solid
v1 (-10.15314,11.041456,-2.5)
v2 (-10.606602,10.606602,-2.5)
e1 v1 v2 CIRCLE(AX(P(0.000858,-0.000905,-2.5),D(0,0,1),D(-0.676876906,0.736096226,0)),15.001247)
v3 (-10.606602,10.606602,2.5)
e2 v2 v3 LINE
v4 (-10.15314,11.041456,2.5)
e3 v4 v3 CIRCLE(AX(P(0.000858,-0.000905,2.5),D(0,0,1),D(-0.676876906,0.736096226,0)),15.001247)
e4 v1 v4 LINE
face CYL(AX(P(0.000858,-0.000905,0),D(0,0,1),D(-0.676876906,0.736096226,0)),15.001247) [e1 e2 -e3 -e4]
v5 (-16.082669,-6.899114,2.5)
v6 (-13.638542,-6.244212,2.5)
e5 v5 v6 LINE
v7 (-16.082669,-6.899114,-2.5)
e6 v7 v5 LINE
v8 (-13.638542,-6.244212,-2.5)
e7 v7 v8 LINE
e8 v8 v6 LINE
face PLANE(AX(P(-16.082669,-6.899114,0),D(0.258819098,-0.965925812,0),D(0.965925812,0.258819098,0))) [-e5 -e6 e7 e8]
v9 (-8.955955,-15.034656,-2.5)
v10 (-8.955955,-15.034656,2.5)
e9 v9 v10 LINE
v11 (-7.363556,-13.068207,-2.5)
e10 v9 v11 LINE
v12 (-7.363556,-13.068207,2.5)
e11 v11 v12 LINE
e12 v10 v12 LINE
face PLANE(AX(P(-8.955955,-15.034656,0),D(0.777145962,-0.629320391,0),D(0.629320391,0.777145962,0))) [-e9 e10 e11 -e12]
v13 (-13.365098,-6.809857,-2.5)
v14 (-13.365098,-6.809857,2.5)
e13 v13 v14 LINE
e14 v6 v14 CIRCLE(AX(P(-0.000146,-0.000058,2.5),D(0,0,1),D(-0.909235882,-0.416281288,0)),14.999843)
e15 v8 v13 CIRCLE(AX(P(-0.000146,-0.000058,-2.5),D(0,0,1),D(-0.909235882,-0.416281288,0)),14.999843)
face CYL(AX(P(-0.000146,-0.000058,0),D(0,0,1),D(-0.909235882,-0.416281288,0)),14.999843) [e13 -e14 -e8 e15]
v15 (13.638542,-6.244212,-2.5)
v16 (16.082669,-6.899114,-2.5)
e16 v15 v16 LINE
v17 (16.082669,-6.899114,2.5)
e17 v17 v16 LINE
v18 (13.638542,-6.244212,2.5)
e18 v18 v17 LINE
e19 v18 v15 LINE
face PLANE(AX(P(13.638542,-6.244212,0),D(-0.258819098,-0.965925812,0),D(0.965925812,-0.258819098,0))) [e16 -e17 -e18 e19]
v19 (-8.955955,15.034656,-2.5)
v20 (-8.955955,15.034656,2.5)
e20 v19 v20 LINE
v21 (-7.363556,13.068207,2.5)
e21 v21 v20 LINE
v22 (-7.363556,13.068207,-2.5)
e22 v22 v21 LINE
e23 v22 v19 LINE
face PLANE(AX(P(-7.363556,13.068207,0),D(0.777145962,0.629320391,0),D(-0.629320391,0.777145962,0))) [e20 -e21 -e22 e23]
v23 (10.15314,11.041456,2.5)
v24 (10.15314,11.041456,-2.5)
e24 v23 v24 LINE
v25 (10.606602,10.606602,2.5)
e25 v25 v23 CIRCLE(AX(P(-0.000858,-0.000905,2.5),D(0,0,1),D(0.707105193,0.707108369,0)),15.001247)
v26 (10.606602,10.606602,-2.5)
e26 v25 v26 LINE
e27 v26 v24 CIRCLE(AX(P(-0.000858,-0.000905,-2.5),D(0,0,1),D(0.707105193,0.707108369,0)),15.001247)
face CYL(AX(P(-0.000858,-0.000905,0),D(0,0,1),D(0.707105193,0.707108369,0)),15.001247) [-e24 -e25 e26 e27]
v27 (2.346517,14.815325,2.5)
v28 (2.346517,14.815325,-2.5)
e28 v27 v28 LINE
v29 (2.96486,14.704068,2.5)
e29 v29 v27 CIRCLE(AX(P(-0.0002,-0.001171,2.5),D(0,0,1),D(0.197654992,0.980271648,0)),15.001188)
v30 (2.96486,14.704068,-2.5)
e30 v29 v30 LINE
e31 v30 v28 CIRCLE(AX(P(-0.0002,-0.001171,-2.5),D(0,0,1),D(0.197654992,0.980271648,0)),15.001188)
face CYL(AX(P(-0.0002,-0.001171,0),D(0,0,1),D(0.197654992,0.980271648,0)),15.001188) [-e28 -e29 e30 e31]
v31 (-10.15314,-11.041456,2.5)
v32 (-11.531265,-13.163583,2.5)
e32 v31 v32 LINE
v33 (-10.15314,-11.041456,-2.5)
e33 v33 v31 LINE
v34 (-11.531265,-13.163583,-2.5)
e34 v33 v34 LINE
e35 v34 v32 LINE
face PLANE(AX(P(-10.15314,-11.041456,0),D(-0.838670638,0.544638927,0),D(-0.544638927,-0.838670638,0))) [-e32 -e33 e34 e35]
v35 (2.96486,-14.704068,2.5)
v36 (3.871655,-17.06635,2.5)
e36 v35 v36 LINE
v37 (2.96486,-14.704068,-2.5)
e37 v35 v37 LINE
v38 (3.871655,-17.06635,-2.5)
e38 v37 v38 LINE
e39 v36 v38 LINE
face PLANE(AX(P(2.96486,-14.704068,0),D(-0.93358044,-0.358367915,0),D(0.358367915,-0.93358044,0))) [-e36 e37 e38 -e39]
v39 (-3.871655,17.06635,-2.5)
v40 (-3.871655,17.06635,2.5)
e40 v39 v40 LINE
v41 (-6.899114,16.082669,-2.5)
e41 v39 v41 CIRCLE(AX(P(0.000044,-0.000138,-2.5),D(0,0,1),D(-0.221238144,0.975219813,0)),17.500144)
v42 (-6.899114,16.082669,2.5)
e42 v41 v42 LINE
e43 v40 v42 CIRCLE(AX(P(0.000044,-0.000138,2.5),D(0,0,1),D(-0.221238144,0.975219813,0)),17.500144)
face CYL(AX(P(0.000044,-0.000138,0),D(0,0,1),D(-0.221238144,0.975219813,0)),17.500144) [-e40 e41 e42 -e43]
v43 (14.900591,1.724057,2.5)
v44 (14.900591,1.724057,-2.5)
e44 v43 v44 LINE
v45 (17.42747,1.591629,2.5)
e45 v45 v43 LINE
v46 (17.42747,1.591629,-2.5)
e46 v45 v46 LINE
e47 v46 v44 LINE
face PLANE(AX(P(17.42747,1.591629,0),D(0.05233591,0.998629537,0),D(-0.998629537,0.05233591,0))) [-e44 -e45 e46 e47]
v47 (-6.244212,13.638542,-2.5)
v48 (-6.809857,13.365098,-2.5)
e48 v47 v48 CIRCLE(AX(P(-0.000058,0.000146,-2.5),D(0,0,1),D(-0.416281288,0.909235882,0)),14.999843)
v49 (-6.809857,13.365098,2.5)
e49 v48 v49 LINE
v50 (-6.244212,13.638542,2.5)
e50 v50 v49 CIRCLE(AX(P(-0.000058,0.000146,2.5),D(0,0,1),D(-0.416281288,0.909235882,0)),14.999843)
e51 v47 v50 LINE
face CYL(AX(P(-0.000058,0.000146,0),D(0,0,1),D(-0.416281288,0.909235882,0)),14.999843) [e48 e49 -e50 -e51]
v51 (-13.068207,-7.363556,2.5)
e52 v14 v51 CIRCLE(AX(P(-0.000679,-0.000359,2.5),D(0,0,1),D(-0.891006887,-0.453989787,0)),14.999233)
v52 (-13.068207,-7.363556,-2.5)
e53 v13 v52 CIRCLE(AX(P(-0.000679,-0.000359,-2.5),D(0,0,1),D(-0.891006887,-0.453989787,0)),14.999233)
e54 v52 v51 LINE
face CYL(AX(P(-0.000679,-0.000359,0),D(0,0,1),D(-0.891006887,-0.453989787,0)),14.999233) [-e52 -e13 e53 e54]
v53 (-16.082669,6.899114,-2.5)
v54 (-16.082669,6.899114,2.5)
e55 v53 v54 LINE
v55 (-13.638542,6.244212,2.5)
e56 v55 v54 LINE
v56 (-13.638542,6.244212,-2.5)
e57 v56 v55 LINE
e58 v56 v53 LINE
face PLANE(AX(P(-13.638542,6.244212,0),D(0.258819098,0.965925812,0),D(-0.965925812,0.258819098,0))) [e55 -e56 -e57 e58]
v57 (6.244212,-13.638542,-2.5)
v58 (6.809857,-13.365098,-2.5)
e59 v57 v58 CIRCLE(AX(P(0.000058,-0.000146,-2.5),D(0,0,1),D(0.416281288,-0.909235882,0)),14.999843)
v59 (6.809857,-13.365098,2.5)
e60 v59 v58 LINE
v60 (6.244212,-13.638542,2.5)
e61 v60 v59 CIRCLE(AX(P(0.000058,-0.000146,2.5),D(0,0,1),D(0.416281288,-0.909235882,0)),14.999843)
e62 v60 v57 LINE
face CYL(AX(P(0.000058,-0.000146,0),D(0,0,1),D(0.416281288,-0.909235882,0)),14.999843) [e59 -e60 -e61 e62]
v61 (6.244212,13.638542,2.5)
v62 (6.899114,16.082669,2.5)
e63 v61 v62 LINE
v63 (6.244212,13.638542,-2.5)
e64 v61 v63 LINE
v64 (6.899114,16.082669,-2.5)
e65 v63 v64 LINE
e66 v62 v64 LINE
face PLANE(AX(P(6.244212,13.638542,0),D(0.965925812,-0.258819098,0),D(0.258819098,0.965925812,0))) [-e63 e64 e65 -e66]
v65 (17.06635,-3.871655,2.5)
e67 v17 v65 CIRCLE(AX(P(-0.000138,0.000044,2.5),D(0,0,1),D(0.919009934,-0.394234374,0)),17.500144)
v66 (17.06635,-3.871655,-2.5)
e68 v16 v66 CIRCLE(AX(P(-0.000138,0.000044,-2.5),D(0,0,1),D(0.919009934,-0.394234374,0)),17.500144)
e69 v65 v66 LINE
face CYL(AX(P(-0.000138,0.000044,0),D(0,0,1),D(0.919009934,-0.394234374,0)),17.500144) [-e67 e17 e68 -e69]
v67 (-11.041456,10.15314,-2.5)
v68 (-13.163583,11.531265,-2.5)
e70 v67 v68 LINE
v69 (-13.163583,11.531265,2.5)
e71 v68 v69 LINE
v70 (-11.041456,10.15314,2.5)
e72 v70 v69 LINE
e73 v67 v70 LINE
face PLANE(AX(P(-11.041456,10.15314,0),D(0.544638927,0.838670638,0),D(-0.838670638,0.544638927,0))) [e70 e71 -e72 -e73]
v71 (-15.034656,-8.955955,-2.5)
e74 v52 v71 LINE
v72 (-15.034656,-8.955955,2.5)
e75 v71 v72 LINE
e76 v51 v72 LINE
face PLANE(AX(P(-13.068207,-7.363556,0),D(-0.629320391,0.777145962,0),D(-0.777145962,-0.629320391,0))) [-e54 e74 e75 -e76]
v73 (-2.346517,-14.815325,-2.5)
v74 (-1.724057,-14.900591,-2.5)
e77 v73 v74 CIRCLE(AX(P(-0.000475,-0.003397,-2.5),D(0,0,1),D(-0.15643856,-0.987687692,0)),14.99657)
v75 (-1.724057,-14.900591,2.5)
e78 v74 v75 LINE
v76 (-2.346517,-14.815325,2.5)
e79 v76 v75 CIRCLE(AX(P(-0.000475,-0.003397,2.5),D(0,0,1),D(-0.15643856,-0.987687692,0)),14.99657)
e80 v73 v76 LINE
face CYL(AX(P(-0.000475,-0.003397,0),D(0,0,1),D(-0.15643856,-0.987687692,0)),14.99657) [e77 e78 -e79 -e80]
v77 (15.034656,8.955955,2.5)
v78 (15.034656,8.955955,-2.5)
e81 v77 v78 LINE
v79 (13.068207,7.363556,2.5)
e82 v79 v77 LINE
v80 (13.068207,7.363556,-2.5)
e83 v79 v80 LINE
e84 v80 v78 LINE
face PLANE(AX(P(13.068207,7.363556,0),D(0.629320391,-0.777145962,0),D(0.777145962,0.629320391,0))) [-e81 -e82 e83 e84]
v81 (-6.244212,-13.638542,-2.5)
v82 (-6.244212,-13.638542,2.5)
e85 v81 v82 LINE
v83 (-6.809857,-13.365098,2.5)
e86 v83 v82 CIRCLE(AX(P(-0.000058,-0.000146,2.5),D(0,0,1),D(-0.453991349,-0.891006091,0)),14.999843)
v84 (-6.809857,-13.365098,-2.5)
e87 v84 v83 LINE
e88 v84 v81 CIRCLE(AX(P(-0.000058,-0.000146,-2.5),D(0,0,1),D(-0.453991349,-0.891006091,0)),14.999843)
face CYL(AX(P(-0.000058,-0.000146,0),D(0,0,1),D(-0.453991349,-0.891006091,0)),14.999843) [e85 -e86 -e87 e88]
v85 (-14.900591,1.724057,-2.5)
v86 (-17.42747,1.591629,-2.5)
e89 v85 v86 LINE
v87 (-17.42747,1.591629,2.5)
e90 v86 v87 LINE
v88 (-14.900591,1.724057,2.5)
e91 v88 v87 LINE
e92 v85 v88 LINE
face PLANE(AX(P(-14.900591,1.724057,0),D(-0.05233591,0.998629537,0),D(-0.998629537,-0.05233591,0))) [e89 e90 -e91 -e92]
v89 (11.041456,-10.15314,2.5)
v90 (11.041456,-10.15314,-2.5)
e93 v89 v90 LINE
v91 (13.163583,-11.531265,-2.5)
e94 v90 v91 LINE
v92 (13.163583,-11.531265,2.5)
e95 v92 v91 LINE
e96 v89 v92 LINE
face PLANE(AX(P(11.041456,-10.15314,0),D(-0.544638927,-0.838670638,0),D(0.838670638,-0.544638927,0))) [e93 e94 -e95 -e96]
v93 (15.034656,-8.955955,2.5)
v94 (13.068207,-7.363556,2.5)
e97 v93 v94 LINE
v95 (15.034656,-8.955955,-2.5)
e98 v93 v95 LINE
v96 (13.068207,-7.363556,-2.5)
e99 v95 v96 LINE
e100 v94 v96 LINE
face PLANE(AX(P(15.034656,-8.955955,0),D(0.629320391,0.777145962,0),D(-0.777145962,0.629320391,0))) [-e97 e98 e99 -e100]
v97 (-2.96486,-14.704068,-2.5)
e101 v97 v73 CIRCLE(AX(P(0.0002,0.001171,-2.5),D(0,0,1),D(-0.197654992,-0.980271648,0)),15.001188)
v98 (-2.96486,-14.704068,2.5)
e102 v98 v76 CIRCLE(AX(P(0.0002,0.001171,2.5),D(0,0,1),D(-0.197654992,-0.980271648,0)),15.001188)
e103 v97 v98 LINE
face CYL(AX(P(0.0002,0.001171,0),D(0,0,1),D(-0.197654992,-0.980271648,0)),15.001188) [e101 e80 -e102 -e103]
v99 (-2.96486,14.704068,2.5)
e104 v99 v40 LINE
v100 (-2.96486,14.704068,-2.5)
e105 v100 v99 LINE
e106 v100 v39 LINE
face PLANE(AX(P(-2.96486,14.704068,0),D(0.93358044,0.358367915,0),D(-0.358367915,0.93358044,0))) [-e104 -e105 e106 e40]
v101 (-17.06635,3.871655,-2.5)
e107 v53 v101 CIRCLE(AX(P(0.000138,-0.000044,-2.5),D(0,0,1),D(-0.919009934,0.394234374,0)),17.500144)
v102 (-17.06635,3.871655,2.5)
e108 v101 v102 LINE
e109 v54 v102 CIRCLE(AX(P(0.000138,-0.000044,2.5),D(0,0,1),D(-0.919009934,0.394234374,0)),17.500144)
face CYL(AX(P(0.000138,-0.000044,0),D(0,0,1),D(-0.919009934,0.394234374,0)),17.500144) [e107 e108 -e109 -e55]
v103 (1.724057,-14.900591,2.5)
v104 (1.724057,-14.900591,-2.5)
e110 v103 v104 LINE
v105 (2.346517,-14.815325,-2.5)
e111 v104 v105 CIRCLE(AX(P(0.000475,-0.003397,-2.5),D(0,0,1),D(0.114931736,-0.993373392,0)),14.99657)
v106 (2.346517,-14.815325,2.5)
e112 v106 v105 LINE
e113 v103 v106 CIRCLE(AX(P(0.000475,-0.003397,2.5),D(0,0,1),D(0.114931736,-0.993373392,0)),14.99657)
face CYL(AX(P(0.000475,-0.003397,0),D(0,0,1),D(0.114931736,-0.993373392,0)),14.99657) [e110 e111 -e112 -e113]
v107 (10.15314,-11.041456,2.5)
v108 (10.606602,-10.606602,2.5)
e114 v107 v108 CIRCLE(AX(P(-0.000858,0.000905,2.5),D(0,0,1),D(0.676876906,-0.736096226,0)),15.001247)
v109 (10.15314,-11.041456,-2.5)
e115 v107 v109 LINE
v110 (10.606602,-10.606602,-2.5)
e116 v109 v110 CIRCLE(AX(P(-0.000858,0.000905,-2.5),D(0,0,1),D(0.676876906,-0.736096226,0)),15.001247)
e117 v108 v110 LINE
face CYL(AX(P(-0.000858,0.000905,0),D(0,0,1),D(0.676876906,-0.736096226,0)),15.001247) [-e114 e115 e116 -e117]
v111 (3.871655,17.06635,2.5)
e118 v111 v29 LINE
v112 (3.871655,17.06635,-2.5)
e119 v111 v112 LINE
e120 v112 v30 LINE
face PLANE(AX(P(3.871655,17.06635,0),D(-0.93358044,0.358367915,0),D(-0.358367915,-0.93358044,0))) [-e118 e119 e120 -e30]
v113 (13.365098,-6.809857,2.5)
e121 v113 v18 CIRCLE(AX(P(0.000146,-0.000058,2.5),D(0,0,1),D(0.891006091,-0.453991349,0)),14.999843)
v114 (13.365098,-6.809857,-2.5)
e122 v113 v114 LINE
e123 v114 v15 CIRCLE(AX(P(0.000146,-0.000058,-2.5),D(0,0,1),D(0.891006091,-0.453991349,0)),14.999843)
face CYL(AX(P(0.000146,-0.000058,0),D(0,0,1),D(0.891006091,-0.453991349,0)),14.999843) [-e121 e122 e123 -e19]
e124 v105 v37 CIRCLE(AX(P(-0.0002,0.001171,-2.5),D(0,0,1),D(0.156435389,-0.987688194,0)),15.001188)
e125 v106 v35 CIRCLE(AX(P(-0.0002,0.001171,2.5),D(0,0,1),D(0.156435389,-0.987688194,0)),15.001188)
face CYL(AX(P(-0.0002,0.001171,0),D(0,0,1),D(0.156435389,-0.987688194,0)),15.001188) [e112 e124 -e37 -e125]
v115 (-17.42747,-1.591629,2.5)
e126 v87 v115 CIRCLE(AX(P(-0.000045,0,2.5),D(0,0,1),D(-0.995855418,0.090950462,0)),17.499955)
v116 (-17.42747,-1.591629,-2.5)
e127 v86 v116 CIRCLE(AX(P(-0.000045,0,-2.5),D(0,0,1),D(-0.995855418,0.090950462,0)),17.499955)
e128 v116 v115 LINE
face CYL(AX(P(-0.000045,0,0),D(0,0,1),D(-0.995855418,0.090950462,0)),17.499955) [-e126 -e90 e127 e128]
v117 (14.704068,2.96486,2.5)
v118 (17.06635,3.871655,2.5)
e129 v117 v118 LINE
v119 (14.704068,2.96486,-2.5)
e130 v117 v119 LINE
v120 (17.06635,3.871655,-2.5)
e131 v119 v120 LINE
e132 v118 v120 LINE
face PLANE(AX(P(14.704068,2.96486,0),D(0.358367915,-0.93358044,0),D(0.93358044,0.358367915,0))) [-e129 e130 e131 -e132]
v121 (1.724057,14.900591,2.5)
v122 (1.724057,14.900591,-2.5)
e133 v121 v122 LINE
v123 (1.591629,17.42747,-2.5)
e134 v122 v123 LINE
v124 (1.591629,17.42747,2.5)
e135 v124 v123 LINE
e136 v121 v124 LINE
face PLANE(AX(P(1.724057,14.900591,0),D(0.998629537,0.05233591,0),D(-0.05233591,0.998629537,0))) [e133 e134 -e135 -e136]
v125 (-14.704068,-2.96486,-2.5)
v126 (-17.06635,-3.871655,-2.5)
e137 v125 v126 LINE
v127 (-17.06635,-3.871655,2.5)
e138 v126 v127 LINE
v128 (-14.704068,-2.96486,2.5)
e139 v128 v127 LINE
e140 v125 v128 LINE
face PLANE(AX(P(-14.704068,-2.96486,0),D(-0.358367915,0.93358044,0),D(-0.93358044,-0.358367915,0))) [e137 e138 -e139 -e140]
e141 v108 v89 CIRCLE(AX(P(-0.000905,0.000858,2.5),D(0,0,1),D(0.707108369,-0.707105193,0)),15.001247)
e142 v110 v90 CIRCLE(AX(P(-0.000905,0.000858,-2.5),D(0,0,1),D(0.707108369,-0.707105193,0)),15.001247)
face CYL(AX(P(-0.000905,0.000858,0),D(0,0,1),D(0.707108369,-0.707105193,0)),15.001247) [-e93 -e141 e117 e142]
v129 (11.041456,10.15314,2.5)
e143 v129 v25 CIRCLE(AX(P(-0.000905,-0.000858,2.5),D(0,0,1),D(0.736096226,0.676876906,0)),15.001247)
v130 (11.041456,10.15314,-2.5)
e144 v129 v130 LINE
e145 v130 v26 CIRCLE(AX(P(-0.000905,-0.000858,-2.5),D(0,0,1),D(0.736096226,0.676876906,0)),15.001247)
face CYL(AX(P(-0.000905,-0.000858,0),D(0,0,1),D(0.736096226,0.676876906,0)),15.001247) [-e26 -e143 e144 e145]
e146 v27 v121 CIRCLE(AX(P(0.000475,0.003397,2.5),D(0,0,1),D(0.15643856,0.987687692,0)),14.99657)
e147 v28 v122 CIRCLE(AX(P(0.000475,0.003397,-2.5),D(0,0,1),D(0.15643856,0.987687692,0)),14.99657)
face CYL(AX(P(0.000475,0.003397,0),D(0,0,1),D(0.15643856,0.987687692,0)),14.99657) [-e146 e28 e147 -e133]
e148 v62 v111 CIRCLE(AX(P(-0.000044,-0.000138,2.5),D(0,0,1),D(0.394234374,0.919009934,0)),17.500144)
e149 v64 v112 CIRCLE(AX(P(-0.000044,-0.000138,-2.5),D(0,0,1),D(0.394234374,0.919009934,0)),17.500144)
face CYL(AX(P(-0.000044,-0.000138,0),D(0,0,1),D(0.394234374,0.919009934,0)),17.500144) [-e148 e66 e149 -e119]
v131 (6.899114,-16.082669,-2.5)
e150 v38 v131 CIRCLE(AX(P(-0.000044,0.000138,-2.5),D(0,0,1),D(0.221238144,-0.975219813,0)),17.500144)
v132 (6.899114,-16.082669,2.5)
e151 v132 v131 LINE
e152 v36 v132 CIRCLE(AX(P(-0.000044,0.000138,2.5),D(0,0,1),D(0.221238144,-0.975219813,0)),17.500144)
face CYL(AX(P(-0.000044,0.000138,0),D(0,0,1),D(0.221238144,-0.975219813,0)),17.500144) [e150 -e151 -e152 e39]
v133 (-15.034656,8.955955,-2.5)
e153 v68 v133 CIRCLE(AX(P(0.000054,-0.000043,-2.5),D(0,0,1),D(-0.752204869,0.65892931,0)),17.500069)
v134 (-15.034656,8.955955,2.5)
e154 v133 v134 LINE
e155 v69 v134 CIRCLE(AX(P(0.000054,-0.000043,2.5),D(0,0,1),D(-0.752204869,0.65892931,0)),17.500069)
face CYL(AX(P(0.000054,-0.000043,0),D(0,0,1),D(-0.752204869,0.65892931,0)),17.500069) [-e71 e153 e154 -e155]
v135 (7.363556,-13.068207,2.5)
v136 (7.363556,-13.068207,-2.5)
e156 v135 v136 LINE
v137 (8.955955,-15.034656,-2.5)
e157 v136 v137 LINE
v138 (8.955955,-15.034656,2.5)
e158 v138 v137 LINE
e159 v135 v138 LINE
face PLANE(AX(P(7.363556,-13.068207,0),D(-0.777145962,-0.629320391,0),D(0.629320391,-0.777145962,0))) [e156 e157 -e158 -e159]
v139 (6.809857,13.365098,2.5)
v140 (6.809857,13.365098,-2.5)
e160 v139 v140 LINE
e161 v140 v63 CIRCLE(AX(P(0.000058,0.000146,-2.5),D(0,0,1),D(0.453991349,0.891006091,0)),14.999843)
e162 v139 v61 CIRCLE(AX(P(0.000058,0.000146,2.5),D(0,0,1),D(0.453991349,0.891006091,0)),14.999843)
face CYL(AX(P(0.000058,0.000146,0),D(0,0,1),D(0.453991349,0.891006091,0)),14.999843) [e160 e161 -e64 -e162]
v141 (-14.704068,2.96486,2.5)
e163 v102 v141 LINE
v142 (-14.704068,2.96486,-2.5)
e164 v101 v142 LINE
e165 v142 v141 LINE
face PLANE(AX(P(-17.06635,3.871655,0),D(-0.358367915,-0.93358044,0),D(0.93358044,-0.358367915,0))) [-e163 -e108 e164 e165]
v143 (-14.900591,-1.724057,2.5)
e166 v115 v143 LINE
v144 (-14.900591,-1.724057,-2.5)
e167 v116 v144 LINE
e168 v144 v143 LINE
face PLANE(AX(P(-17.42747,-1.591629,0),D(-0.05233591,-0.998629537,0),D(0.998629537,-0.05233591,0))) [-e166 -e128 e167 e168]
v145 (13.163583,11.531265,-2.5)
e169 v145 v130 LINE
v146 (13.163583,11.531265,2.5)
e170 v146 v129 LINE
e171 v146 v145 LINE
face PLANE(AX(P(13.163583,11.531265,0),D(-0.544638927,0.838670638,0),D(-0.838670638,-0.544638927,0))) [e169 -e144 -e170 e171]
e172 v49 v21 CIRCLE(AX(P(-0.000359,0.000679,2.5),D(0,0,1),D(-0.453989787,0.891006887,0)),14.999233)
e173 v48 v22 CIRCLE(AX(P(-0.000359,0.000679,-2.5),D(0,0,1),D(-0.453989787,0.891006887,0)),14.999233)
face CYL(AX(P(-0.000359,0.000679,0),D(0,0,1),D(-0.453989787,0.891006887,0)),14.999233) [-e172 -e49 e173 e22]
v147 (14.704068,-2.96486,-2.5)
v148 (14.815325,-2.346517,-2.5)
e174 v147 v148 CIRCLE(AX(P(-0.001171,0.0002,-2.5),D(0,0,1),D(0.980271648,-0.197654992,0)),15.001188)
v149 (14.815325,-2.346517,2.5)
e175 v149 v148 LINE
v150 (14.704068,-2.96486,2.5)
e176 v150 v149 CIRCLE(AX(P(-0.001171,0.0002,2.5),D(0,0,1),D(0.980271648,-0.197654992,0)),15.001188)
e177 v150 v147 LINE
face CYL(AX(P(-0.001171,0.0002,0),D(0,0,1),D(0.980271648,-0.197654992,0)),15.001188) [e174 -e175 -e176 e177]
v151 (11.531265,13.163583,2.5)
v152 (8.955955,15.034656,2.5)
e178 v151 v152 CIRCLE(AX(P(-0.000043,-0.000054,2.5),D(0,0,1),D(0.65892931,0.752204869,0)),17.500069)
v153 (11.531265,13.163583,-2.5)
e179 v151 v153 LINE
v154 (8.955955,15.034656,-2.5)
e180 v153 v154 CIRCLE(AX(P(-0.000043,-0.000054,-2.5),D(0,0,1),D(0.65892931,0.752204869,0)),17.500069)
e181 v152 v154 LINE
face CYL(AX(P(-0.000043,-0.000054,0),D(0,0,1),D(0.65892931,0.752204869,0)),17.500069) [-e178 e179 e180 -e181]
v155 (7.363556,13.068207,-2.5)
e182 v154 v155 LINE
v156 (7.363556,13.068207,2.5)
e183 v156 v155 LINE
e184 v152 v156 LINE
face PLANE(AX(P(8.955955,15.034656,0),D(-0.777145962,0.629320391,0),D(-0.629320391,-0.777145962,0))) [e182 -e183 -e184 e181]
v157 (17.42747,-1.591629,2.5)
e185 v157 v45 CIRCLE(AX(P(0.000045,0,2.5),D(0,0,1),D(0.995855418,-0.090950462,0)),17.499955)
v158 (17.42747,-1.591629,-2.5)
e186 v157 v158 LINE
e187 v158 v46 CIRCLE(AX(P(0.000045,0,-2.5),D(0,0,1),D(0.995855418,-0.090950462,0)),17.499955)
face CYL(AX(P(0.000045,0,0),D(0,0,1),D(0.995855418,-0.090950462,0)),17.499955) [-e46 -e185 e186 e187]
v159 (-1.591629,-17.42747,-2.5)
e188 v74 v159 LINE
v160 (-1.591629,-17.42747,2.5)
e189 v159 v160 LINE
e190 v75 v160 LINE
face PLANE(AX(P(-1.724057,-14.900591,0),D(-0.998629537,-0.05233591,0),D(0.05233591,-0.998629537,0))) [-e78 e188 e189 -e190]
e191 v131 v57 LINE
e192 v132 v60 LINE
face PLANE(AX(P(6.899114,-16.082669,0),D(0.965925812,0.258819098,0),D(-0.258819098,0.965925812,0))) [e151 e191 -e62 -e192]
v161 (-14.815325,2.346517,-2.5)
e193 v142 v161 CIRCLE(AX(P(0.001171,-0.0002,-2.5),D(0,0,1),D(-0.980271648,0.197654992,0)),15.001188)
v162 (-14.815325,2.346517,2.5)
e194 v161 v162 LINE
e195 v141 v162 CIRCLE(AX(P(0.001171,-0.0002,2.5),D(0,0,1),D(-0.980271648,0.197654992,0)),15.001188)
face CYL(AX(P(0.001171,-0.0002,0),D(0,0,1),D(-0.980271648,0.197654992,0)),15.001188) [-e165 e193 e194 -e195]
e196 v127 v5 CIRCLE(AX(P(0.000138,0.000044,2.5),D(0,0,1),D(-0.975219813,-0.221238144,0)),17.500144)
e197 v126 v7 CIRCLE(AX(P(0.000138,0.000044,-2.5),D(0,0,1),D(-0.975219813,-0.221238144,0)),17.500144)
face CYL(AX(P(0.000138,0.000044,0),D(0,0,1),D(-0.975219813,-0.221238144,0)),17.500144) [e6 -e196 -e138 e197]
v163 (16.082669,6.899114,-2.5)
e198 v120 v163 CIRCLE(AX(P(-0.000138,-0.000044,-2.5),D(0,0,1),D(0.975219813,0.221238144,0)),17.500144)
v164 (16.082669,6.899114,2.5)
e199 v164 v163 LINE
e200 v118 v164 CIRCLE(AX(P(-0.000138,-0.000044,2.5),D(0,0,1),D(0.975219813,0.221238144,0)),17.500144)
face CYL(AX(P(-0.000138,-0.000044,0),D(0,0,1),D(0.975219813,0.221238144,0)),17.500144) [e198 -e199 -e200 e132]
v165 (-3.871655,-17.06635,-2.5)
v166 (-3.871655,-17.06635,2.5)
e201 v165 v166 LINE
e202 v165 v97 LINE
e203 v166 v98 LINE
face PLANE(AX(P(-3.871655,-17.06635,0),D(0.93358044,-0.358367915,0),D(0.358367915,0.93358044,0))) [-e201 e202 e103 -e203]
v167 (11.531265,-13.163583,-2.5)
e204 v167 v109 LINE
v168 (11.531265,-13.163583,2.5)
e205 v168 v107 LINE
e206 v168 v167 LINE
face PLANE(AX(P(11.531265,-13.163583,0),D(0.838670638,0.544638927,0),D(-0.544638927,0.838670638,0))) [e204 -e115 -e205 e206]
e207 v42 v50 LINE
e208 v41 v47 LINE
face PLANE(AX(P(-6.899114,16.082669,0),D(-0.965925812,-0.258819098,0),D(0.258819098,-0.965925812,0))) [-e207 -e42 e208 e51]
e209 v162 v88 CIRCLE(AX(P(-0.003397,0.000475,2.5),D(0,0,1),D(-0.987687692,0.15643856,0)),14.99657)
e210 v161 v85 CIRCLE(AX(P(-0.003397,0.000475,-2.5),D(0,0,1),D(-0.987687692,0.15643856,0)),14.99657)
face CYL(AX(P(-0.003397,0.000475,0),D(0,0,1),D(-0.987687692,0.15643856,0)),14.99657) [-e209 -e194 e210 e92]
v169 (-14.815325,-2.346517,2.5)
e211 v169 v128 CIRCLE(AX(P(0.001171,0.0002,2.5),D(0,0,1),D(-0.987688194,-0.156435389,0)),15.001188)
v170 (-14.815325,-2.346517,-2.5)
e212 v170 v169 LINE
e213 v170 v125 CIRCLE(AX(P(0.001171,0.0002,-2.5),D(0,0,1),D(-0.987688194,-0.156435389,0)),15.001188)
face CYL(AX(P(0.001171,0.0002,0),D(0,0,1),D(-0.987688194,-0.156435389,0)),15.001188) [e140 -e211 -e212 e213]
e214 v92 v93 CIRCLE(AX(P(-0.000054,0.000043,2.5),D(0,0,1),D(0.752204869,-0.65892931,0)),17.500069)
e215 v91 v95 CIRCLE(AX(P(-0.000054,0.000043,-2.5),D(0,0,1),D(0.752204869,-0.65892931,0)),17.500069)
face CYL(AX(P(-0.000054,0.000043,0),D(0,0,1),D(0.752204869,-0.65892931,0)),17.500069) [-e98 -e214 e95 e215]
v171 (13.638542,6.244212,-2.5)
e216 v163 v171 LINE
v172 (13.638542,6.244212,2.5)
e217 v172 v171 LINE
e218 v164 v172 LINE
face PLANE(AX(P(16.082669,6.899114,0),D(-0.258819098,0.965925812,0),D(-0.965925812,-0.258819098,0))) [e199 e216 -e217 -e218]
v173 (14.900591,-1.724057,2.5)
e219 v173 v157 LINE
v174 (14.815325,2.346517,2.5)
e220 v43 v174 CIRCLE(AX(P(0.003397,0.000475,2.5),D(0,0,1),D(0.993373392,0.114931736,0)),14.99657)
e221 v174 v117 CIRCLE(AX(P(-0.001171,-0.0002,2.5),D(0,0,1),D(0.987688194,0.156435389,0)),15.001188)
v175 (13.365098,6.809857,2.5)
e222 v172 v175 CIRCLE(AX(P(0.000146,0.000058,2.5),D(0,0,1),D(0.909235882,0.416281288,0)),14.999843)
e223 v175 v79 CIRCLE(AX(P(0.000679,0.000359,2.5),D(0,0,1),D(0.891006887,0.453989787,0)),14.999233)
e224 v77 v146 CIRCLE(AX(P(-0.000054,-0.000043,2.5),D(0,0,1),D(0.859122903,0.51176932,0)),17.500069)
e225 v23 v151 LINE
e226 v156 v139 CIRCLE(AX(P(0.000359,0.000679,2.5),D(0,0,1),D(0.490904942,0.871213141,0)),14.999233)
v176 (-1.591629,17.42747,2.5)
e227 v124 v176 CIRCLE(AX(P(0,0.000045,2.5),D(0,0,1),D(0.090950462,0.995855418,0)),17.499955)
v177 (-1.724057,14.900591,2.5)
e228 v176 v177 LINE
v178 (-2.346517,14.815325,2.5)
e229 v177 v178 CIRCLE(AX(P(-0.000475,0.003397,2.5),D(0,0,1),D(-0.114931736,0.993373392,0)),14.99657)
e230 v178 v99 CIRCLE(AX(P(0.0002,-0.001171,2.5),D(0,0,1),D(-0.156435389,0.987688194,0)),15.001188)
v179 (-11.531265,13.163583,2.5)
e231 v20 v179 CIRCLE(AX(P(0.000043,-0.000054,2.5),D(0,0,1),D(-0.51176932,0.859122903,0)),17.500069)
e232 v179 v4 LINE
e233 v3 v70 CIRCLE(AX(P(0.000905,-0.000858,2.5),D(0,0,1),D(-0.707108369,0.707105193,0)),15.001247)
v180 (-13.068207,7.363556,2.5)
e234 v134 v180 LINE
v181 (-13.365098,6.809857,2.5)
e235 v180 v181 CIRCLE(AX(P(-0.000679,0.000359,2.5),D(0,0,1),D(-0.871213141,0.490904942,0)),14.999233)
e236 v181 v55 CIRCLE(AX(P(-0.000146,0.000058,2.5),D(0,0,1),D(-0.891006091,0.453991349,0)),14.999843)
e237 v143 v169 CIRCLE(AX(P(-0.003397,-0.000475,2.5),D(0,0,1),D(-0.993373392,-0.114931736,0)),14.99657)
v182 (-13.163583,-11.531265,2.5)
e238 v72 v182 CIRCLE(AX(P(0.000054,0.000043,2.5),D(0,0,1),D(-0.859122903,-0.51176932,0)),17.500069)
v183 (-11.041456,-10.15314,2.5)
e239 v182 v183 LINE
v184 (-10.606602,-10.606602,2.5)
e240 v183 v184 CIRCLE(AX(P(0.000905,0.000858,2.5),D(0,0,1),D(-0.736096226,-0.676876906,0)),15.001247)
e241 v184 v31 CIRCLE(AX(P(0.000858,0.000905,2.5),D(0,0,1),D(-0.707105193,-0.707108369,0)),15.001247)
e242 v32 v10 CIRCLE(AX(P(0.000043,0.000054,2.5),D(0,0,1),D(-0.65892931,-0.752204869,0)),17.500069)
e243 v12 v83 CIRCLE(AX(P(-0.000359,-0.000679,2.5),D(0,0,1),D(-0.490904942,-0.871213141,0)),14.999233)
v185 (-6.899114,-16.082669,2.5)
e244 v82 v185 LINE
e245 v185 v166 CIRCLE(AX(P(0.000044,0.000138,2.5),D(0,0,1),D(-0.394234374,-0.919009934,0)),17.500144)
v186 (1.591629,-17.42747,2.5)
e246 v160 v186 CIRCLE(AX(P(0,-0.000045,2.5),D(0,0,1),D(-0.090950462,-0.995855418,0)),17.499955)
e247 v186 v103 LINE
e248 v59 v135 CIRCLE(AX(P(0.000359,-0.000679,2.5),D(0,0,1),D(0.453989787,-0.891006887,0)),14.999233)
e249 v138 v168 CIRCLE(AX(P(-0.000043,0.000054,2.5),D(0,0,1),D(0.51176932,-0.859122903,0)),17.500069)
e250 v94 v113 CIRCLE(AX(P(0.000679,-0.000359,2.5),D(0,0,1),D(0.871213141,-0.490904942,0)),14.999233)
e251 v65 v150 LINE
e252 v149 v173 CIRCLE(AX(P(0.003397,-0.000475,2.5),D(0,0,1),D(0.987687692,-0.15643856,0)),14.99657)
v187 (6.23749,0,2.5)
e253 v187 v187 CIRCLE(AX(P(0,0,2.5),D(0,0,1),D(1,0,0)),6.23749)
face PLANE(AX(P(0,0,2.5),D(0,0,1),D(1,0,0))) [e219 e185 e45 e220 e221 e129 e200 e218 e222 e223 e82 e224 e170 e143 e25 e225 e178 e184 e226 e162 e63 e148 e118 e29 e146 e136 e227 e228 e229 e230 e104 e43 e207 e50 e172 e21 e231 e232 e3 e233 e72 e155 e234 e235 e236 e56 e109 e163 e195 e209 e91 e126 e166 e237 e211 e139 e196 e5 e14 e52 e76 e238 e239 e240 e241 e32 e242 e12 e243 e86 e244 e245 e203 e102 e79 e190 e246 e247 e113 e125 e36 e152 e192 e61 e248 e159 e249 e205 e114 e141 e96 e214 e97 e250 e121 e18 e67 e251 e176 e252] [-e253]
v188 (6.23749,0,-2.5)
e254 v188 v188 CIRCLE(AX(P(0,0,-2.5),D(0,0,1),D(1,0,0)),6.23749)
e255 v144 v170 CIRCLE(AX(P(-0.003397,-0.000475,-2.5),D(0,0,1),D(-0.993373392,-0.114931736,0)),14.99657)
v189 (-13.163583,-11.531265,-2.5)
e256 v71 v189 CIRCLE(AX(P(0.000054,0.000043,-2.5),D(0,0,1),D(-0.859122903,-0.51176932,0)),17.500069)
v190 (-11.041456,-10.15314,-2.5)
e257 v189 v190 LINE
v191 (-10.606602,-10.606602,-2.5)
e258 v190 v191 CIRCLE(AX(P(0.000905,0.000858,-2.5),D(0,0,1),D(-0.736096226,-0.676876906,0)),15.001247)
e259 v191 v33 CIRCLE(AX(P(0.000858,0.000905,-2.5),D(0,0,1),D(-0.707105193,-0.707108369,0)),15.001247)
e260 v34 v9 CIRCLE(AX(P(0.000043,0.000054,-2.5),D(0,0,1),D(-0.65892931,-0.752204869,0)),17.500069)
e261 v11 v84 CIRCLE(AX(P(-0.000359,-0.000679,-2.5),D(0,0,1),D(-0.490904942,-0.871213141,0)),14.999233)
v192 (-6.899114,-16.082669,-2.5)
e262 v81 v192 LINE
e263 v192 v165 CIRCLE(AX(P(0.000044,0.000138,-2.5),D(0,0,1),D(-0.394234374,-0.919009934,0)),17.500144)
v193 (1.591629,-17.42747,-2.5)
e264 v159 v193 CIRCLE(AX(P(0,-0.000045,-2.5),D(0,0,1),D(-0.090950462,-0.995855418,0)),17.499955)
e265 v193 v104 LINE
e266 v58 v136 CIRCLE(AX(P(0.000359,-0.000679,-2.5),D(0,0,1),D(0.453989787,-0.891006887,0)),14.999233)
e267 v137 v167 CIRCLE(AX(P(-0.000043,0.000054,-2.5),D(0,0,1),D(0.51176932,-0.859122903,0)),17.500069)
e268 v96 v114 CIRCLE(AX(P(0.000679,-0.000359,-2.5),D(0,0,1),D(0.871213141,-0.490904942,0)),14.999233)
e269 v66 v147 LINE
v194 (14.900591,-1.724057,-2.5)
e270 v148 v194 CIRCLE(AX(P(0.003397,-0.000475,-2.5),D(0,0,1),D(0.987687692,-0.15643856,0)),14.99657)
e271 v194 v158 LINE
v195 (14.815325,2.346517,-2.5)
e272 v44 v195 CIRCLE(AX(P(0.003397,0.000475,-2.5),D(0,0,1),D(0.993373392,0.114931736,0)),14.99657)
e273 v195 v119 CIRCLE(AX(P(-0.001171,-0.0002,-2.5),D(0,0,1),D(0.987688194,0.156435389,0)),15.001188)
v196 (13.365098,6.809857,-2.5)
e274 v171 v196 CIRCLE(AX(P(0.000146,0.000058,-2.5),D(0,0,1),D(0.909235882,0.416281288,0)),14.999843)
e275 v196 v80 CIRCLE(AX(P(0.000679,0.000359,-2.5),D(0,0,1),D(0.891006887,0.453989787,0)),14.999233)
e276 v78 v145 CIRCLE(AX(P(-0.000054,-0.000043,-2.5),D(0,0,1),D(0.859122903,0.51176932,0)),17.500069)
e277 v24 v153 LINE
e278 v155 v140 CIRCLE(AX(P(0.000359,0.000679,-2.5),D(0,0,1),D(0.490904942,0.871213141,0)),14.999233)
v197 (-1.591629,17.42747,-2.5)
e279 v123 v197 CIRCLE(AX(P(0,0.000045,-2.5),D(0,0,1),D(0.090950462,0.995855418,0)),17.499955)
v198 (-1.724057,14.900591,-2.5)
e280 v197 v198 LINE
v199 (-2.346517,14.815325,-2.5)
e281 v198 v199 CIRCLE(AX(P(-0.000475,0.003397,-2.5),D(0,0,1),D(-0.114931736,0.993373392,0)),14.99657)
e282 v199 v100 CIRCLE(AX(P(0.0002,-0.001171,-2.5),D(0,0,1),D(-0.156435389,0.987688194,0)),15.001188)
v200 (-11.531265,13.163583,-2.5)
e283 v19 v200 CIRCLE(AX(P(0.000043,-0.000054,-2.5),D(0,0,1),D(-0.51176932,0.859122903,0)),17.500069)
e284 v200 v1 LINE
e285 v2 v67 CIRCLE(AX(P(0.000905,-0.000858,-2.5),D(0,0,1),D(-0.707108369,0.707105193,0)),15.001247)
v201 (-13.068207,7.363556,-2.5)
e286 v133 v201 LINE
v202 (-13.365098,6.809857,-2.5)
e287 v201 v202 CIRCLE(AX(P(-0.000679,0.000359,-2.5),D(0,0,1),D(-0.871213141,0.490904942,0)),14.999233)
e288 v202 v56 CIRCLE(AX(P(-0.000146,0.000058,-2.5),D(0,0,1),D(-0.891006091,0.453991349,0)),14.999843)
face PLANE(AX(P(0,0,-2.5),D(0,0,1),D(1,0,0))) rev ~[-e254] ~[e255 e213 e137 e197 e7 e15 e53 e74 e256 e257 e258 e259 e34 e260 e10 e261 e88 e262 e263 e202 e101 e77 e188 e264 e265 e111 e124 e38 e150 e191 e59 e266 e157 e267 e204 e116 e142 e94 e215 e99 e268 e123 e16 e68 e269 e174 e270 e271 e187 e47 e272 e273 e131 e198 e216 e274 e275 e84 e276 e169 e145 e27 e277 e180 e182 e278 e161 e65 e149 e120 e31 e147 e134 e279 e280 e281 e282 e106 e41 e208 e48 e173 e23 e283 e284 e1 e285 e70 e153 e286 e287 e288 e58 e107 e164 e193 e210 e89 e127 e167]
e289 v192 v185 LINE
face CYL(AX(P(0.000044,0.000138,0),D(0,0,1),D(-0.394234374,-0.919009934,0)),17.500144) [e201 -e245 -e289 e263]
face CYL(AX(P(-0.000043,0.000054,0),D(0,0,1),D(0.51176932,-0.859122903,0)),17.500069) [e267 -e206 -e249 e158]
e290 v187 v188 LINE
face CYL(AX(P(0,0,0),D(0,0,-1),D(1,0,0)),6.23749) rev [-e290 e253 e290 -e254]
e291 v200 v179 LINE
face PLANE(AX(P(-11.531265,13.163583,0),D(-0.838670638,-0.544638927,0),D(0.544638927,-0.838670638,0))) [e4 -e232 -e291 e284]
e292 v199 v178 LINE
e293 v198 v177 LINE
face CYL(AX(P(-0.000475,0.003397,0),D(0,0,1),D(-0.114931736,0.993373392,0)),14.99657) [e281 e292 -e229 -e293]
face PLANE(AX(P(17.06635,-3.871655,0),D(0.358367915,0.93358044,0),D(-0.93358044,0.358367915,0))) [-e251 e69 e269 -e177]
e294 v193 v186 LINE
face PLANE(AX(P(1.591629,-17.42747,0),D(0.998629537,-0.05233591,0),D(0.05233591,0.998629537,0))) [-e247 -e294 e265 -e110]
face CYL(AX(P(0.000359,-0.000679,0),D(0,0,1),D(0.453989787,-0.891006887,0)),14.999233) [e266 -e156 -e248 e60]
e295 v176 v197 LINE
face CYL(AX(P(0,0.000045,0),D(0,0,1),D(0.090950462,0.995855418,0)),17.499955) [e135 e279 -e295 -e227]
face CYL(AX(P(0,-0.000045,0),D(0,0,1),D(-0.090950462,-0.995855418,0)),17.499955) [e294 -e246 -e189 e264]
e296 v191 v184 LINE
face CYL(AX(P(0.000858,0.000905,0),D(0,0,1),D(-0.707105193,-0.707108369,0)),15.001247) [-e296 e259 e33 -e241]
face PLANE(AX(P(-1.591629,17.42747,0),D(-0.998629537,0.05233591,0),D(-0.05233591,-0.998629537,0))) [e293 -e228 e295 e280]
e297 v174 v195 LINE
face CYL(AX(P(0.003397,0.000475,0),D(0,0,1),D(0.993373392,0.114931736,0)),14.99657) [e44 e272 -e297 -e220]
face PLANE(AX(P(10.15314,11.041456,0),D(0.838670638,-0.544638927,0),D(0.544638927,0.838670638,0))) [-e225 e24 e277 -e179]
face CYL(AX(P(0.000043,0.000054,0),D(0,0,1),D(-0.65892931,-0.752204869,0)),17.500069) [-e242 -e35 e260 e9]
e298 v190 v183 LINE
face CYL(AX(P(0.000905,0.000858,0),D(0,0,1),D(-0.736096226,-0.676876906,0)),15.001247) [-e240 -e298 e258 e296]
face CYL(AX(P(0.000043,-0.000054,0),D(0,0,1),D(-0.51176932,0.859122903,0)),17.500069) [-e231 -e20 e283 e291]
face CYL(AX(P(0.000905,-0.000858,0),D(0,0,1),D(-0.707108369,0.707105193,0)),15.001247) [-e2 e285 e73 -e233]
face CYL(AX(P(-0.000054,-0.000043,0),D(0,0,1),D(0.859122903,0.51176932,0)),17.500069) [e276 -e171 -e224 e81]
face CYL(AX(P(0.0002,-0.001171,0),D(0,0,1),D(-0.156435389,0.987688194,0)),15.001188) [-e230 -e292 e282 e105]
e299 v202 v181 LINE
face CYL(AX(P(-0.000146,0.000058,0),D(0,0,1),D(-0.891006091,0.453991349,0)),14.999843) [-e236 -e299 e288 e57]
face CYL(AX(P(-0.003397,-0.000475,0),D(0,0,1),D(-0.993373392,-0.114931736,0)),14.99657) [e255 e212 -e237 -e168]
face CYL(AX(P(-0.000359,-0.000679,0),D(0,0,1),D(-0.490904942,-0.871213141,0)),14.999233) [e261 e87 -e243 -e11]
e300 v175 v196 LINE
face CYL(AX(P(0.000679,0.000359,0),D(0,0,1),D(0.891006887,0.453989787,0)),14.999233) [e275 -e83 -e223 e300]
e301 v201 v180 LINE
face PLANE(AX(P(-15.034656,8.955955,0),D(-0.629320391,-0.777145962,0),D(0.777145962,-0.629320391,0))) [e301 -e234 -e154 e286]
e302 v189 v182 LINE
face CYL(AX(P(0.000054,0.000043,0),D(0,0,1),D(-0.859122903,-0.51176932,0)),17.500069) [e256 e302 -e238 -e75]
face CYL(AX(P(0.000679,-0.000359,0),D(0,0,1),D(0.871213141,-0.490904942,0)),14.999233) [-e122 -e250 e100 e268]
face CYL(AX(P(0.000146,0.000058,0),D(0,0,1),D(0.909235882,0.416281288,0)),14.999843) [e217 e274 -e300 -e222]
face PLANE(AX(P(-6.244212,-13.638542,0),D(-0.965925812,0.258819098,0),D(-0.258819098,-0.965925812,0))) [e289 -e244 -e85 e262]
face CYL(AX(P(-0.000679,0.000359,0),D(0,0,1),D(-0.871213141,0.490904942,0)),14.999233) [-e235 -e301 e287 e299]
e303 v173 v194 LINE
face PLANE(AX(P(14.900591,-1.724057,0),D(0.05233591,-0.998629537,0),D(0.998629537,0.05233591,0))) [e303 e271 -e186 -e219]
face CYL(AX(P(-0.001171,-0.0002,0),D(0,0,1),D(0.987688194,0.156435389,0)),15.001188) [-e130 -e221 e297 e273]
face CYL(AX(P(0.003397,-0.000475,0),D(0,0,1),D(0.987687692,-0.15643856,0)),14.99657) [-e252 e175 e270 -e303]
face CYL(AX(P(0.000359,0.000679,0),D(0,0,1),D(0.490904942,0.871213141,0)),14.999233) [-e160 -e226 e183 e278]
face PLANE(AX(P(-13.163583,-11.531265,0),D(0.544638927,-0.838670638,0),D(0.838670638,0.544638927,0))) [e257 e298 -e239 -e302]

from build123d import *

# Parameters (mm, degrees)
F0_R     = 6.23749
F1_DEPTH = 2.5


with BuildPart() as f1:
    # F0 (on Top) → F1 (new body, symmetric)
    with BuildSketch(Plane.XY):
        with BuildLine():
            Line((-1.591629, 17.42747), (-1.724057, 14.900591))
            ThreePointArc((-1.724057, 14.900591), (-2.035734, 14.861218), (-2.346517, 14.815325))
            ThreePointArc((-2.346517, 14.815325), (-2.656271, 14.762934), (-2.96486, 14.704068))
            Line((-2.96486, 14.704068), (-3.871655, 17.06635))
            ThreePointArc((-3.871655, 17.06635), (-5.407797, 16.643489), (-6.899114, 16.082669))
            Line((-6.899114, 16.082669), (-6.244212, 13.638542))
            ThreePointArc((-6.244212, 13.638542), (-6.528466, 13.504782), (-6.809857, 13.365098))
            ThreePointArc((-6.809857, 13.365098), (-7.088261, 13.219552), (-7.363556, 13.068207))
            Line((-7.363556, 13.068207), (-8.955955, 15.034656))
            ThreePointArc((-8.955955, 15.034656), (-10.286242, 14.157797), (-11.531265, 13.163583))
            Line((-11.531265, 13.163583), (-10.15314, 11.041456))
            ThreePointArc((-10.15314, 11.041456), (-10.382148, 10.826403), (-10.606602, 10.606602))
            ThreePointArc((-10.606602, 10.606602), (-10.826403, 10.382148), (-11.041456, 10.15314))
            Line((-11.041456, 10.15314), (-13.163583, 11.531265))
            ThreePointArc((-13.163583, 11.531265), (-14.157797, 10.286242), (-15.034656, 8.955955))
            Line((-15.034656, 8.955955), (-13.068207, 7.363556))
            ThreePointArc((-13.068207, 7.363556), (-13.219552, 7.088261), (-13.365098, 6.809857))
            ThreePointArc((-13.365098, 6.809857), (-13.504782, 6.528466), (-13.638542, 6.244212))
            Line((-13.638542, 6.244212), (-16.082669, 6.899114))
            ThreePointArc((-16.082669, 6.899114), (-16.643489, 5.407797), (-17.06635, 3.871655))
            Line((-17.06635, 3.871655), (-14.704068, 2.96486))
            ThreePointArc((-14.704068, 2.96486), (-14.762934, 2.656271), (-14.815325, 2.346517))
            ThreePointArc((-14.815325, 2.346517), (-14.861218, 2.035734), (-14.900591, 1.724057))
            Line((-14.900591, 1.724057), (-17.42747, 1.591629))
            ThreePointArc((-17.42747, 1.591629), (-17.5, 0), (-17.42747, -1.591629))
            Line((-17.42747, -1.591629), (-14.900591, -1.724057))
            ThreePointArc((-14.900591, -1.724057), (-14.861218, -2.035734), (-14.815325, -2.346517))
            ThreePointArc((-14.815325, -2.346517), (-14.762934, -2.656271), (-14.704068, -2.96486))
            Line((-14.704068, -2.96486), (-17.06635, -3.871655))
            ThreePointArc((-17.06635, -3.871655), (-16.643489, -5.407797), (-16.082669, -6.899114))
            Line((-16.082669, -6.899114), (-13.638542, -6.244212))
            ThreePointArc((-13.638542, -6.244212), (-13.504782, -6.528466), (-13.365098, -6.809857))
            ThreePointArc((-13.365098, -6.809857), (-13.219552, -7.088261), (-13.068207, -7.363556))
            Line((-13.068207, -7.363556), (-15.034656, -8.955955))
            ThreePointArc((-15.034656, -8.955955), (-14.157797, -10.286242), (-13.163583, -11.531265))
            Line((-13.163583, -11.531265), (-11.041456, -10.15314))
            ThreePointArc((-11.041456, -10.15314), (-10.826403, -10.382148), (-10.606602, -10.606602))
            ThreePointArc((-10.606602, -10.606602), (-10.382148, -10.826403), (-10.15314, -11.041456))
            Line((-10.15314, -11.041456), (-11.531265, -13.163583))
            ThreePointArc((-11.531265, -13.163583), (-10.286242, -14.157797), (-8.955955, -15.034656))
            Line((-8.955955, -15.034656), (-7.363556, -13.068207))
            ThreePointArc((-7.363556, -13.068207), (-7.088261, -13.219552), (-6.809857, -13.365098))
            ThreePointArc((-6.809857, -13.365098), (-6.528466, -13.504782), (-6.244212, -13.638542))
            Line((-6.244212, -13.638542), (-6.899114, -16.082669))
            ThreePointArc((-6.899114, -16.082669), (-5.407797, -16.643489), (-3.871655, -17.06635))
            Line((-3.871655, -17.06635), (-2.96486, -14.704068))
            ThreePointArc((-2.96486, -14.704068), (-2.656271, -14.762934), (-2.346517, -14.815325))
            ThreePointArc((-2.346517, -14.815325), (-2.035734, -14.861218), (-1.724057, -14.900591))
            Line((-1.724057, -14.900591), (-1.591629, -17.42747))
            ThreePointArc((-1.591629, -17.42747), (0, -17.5), (1.591629, -17.42747))
            Line((1.591629, -17.42747), (1.724057, -14.900591))
            ThreePointArc((1.724057, -14.900591), (2.035734, -14.861218), (2.346517, -14.815325))
            ThreePointArc((2.346517, -14.815325), (2.656271, -14.762934), (2.96486, -14.704068))
            Line((2.96486, -14.704068), (3.871655, -17.06635))
            ThreePointArc((3.871655, -17.06635), (5.407797, -16.643489), (6.899114, -16.082669))
            Line((6.899114, -16.082669), (6.244212, -13.638542))
            ThreePointArc((6.244212, -13.638542), (6.528466, -13.504782), (6.809857, -13.365098))
            ThreePointArc((6.809857, -13.365098), (7.088261, -13.219552), (7.363556, -13.068207))
            Line((7.363556, -13.068207), (8.955955, -15.034656))
            ThreePointArc((8.955955, -15.034656), (10.286242, -14.157797), (11.531265, -13.163583))
            Line((11.531265, -13.163583), (10.15314, -11.041456))
            ThreePointArc((10.15314, -11.041456), (10.382148, -10.826403), (10.606602, -10.606602))
            ThreePointArc((10.606602, -10.606602), (10.826403, -10.382148), (11.041456, -10.15314))
            Line((11.041456, -10.15314), (13.163583, -11.531265))
            ThreePointArc((13.163583, -11.531265), (14.157797, -10.286242), (15.034656, -8.955955))
            Line((15.034656, -8.955955), (13.068207, -7.363556))
            ThreePointArc((13.068207, -7.363556), (13.219552, -7.088261), (13.365098, -6.809857))
            ThreePointArc((13.365098, -6.809857), (13.504782, -6.528466), (13.638542, -6.244212))
            Line((13.638542, -6.244212), (16.082669, -6.899114))
            ThreePointArc((16.082669, -6.899114), (16.643489, -5.407797), (17.06635, -3.871655))
            Line((17.06635, -3.871655), (14.704068, -2.96486))
            ThreePointArc((14.704068, -2.96486), (14.762934, -2.656271), (14.815325, -2.346517))
            ThreePointArc((14.815325, -2.346517), (14.861218, -2.035734), (14.900591, -1.724057))
            Line((14.900591, -1.724057), (17.42747, -1.591629))
            ThreePointArc((17.42747, -1.591629), (17.5, 0), (17.42747, 1.591629))
            Line((17.42747, 1.591629), (14.900591, 1.724057))
            ThreePointArc((14.900591, 1.724057), (14.861218, 2.035734), (14.815325, 2.346517))
            ThreePointArc((14.815325, 2.346517), (14.762934, 2.656271), (14.704068, 2.96486))
            Line((14.704068, 2.96486), (17.06635, 3.871655))
            ThreePointArc((17.06635, 3.871655), (16.643489, 5.407797), (16.082669, 6.899114))
            Line((16.082669, 6.899114), (13.638542, 6.244212))
            ThreePointArc((13.638542, 6.244212), (13.504782, 6.528466), (13.365098, 6.809857))
            ThreePointArc((13.365098, 6.809857), (13.219552, 7.088261), (13.068207, 7.363556))
            Line((13.068207, 7.363556), (15.034656, 8.955955))
            ThreePointArc((15.034656, 8.955955), (14.157797, 10.286242), (13.163583, 11.531265))
            Line((13.163583, 11.531265), (11.041456, 10.15314))
            ThreePointArc((11.041456, 10.15314), (10.826403, 10.382148), (10.606602, 10.606602))
            ThreePointArc((10.606602, 10.606602), (10.382148, 10.826403), (10.15314, 11.041456))
            Line((10.15314, 11.041456), (11.531265, 13.163583))
            ThreePointArc((11.531265, 13.163583), (10.286242, 14.157797), (8.955955, 15.034656))
            Line((8.955955, 15.034656), (7.363556, 13.068207))
            ThreePointArc((7.363556, 13.068207), (7.088261, 13.219552), (6.809857, 13.365098))
            ThreePointArc((6.809857, 13.365098), (6.528466, 13.504782), (6.244212, 13.638542))
            Line((6.244212, 13.638542), (6.899114, 16.082669))
            ThreePointArc((6.899114, 16.082669), (5.407797, 16.643489), (3.871655, 17.06635))
            Line((3.871655, 17.06635), (2.96486, 14.704068))
            ThreePointArc((2.96486, 14.704068), (2.656271, 14.762934), (2.346517, 14.815325))
            ThreePointArc((2.346517, 14.815325), (2.035734, 14.861218), (1.724057, 14.900591))
            Line((1.724057, 14.900591), (1.591629, 17.42747))
            ThreePointArc((1.591629, 17.42747), (0, 17.5), (-1.591629, 17.42747))
        make_face()
        Circle(F0_R, mode=Mode.SUBTRACT)
    extrude(amount=F1_DEPTH, both=True)


solid = f1.part
